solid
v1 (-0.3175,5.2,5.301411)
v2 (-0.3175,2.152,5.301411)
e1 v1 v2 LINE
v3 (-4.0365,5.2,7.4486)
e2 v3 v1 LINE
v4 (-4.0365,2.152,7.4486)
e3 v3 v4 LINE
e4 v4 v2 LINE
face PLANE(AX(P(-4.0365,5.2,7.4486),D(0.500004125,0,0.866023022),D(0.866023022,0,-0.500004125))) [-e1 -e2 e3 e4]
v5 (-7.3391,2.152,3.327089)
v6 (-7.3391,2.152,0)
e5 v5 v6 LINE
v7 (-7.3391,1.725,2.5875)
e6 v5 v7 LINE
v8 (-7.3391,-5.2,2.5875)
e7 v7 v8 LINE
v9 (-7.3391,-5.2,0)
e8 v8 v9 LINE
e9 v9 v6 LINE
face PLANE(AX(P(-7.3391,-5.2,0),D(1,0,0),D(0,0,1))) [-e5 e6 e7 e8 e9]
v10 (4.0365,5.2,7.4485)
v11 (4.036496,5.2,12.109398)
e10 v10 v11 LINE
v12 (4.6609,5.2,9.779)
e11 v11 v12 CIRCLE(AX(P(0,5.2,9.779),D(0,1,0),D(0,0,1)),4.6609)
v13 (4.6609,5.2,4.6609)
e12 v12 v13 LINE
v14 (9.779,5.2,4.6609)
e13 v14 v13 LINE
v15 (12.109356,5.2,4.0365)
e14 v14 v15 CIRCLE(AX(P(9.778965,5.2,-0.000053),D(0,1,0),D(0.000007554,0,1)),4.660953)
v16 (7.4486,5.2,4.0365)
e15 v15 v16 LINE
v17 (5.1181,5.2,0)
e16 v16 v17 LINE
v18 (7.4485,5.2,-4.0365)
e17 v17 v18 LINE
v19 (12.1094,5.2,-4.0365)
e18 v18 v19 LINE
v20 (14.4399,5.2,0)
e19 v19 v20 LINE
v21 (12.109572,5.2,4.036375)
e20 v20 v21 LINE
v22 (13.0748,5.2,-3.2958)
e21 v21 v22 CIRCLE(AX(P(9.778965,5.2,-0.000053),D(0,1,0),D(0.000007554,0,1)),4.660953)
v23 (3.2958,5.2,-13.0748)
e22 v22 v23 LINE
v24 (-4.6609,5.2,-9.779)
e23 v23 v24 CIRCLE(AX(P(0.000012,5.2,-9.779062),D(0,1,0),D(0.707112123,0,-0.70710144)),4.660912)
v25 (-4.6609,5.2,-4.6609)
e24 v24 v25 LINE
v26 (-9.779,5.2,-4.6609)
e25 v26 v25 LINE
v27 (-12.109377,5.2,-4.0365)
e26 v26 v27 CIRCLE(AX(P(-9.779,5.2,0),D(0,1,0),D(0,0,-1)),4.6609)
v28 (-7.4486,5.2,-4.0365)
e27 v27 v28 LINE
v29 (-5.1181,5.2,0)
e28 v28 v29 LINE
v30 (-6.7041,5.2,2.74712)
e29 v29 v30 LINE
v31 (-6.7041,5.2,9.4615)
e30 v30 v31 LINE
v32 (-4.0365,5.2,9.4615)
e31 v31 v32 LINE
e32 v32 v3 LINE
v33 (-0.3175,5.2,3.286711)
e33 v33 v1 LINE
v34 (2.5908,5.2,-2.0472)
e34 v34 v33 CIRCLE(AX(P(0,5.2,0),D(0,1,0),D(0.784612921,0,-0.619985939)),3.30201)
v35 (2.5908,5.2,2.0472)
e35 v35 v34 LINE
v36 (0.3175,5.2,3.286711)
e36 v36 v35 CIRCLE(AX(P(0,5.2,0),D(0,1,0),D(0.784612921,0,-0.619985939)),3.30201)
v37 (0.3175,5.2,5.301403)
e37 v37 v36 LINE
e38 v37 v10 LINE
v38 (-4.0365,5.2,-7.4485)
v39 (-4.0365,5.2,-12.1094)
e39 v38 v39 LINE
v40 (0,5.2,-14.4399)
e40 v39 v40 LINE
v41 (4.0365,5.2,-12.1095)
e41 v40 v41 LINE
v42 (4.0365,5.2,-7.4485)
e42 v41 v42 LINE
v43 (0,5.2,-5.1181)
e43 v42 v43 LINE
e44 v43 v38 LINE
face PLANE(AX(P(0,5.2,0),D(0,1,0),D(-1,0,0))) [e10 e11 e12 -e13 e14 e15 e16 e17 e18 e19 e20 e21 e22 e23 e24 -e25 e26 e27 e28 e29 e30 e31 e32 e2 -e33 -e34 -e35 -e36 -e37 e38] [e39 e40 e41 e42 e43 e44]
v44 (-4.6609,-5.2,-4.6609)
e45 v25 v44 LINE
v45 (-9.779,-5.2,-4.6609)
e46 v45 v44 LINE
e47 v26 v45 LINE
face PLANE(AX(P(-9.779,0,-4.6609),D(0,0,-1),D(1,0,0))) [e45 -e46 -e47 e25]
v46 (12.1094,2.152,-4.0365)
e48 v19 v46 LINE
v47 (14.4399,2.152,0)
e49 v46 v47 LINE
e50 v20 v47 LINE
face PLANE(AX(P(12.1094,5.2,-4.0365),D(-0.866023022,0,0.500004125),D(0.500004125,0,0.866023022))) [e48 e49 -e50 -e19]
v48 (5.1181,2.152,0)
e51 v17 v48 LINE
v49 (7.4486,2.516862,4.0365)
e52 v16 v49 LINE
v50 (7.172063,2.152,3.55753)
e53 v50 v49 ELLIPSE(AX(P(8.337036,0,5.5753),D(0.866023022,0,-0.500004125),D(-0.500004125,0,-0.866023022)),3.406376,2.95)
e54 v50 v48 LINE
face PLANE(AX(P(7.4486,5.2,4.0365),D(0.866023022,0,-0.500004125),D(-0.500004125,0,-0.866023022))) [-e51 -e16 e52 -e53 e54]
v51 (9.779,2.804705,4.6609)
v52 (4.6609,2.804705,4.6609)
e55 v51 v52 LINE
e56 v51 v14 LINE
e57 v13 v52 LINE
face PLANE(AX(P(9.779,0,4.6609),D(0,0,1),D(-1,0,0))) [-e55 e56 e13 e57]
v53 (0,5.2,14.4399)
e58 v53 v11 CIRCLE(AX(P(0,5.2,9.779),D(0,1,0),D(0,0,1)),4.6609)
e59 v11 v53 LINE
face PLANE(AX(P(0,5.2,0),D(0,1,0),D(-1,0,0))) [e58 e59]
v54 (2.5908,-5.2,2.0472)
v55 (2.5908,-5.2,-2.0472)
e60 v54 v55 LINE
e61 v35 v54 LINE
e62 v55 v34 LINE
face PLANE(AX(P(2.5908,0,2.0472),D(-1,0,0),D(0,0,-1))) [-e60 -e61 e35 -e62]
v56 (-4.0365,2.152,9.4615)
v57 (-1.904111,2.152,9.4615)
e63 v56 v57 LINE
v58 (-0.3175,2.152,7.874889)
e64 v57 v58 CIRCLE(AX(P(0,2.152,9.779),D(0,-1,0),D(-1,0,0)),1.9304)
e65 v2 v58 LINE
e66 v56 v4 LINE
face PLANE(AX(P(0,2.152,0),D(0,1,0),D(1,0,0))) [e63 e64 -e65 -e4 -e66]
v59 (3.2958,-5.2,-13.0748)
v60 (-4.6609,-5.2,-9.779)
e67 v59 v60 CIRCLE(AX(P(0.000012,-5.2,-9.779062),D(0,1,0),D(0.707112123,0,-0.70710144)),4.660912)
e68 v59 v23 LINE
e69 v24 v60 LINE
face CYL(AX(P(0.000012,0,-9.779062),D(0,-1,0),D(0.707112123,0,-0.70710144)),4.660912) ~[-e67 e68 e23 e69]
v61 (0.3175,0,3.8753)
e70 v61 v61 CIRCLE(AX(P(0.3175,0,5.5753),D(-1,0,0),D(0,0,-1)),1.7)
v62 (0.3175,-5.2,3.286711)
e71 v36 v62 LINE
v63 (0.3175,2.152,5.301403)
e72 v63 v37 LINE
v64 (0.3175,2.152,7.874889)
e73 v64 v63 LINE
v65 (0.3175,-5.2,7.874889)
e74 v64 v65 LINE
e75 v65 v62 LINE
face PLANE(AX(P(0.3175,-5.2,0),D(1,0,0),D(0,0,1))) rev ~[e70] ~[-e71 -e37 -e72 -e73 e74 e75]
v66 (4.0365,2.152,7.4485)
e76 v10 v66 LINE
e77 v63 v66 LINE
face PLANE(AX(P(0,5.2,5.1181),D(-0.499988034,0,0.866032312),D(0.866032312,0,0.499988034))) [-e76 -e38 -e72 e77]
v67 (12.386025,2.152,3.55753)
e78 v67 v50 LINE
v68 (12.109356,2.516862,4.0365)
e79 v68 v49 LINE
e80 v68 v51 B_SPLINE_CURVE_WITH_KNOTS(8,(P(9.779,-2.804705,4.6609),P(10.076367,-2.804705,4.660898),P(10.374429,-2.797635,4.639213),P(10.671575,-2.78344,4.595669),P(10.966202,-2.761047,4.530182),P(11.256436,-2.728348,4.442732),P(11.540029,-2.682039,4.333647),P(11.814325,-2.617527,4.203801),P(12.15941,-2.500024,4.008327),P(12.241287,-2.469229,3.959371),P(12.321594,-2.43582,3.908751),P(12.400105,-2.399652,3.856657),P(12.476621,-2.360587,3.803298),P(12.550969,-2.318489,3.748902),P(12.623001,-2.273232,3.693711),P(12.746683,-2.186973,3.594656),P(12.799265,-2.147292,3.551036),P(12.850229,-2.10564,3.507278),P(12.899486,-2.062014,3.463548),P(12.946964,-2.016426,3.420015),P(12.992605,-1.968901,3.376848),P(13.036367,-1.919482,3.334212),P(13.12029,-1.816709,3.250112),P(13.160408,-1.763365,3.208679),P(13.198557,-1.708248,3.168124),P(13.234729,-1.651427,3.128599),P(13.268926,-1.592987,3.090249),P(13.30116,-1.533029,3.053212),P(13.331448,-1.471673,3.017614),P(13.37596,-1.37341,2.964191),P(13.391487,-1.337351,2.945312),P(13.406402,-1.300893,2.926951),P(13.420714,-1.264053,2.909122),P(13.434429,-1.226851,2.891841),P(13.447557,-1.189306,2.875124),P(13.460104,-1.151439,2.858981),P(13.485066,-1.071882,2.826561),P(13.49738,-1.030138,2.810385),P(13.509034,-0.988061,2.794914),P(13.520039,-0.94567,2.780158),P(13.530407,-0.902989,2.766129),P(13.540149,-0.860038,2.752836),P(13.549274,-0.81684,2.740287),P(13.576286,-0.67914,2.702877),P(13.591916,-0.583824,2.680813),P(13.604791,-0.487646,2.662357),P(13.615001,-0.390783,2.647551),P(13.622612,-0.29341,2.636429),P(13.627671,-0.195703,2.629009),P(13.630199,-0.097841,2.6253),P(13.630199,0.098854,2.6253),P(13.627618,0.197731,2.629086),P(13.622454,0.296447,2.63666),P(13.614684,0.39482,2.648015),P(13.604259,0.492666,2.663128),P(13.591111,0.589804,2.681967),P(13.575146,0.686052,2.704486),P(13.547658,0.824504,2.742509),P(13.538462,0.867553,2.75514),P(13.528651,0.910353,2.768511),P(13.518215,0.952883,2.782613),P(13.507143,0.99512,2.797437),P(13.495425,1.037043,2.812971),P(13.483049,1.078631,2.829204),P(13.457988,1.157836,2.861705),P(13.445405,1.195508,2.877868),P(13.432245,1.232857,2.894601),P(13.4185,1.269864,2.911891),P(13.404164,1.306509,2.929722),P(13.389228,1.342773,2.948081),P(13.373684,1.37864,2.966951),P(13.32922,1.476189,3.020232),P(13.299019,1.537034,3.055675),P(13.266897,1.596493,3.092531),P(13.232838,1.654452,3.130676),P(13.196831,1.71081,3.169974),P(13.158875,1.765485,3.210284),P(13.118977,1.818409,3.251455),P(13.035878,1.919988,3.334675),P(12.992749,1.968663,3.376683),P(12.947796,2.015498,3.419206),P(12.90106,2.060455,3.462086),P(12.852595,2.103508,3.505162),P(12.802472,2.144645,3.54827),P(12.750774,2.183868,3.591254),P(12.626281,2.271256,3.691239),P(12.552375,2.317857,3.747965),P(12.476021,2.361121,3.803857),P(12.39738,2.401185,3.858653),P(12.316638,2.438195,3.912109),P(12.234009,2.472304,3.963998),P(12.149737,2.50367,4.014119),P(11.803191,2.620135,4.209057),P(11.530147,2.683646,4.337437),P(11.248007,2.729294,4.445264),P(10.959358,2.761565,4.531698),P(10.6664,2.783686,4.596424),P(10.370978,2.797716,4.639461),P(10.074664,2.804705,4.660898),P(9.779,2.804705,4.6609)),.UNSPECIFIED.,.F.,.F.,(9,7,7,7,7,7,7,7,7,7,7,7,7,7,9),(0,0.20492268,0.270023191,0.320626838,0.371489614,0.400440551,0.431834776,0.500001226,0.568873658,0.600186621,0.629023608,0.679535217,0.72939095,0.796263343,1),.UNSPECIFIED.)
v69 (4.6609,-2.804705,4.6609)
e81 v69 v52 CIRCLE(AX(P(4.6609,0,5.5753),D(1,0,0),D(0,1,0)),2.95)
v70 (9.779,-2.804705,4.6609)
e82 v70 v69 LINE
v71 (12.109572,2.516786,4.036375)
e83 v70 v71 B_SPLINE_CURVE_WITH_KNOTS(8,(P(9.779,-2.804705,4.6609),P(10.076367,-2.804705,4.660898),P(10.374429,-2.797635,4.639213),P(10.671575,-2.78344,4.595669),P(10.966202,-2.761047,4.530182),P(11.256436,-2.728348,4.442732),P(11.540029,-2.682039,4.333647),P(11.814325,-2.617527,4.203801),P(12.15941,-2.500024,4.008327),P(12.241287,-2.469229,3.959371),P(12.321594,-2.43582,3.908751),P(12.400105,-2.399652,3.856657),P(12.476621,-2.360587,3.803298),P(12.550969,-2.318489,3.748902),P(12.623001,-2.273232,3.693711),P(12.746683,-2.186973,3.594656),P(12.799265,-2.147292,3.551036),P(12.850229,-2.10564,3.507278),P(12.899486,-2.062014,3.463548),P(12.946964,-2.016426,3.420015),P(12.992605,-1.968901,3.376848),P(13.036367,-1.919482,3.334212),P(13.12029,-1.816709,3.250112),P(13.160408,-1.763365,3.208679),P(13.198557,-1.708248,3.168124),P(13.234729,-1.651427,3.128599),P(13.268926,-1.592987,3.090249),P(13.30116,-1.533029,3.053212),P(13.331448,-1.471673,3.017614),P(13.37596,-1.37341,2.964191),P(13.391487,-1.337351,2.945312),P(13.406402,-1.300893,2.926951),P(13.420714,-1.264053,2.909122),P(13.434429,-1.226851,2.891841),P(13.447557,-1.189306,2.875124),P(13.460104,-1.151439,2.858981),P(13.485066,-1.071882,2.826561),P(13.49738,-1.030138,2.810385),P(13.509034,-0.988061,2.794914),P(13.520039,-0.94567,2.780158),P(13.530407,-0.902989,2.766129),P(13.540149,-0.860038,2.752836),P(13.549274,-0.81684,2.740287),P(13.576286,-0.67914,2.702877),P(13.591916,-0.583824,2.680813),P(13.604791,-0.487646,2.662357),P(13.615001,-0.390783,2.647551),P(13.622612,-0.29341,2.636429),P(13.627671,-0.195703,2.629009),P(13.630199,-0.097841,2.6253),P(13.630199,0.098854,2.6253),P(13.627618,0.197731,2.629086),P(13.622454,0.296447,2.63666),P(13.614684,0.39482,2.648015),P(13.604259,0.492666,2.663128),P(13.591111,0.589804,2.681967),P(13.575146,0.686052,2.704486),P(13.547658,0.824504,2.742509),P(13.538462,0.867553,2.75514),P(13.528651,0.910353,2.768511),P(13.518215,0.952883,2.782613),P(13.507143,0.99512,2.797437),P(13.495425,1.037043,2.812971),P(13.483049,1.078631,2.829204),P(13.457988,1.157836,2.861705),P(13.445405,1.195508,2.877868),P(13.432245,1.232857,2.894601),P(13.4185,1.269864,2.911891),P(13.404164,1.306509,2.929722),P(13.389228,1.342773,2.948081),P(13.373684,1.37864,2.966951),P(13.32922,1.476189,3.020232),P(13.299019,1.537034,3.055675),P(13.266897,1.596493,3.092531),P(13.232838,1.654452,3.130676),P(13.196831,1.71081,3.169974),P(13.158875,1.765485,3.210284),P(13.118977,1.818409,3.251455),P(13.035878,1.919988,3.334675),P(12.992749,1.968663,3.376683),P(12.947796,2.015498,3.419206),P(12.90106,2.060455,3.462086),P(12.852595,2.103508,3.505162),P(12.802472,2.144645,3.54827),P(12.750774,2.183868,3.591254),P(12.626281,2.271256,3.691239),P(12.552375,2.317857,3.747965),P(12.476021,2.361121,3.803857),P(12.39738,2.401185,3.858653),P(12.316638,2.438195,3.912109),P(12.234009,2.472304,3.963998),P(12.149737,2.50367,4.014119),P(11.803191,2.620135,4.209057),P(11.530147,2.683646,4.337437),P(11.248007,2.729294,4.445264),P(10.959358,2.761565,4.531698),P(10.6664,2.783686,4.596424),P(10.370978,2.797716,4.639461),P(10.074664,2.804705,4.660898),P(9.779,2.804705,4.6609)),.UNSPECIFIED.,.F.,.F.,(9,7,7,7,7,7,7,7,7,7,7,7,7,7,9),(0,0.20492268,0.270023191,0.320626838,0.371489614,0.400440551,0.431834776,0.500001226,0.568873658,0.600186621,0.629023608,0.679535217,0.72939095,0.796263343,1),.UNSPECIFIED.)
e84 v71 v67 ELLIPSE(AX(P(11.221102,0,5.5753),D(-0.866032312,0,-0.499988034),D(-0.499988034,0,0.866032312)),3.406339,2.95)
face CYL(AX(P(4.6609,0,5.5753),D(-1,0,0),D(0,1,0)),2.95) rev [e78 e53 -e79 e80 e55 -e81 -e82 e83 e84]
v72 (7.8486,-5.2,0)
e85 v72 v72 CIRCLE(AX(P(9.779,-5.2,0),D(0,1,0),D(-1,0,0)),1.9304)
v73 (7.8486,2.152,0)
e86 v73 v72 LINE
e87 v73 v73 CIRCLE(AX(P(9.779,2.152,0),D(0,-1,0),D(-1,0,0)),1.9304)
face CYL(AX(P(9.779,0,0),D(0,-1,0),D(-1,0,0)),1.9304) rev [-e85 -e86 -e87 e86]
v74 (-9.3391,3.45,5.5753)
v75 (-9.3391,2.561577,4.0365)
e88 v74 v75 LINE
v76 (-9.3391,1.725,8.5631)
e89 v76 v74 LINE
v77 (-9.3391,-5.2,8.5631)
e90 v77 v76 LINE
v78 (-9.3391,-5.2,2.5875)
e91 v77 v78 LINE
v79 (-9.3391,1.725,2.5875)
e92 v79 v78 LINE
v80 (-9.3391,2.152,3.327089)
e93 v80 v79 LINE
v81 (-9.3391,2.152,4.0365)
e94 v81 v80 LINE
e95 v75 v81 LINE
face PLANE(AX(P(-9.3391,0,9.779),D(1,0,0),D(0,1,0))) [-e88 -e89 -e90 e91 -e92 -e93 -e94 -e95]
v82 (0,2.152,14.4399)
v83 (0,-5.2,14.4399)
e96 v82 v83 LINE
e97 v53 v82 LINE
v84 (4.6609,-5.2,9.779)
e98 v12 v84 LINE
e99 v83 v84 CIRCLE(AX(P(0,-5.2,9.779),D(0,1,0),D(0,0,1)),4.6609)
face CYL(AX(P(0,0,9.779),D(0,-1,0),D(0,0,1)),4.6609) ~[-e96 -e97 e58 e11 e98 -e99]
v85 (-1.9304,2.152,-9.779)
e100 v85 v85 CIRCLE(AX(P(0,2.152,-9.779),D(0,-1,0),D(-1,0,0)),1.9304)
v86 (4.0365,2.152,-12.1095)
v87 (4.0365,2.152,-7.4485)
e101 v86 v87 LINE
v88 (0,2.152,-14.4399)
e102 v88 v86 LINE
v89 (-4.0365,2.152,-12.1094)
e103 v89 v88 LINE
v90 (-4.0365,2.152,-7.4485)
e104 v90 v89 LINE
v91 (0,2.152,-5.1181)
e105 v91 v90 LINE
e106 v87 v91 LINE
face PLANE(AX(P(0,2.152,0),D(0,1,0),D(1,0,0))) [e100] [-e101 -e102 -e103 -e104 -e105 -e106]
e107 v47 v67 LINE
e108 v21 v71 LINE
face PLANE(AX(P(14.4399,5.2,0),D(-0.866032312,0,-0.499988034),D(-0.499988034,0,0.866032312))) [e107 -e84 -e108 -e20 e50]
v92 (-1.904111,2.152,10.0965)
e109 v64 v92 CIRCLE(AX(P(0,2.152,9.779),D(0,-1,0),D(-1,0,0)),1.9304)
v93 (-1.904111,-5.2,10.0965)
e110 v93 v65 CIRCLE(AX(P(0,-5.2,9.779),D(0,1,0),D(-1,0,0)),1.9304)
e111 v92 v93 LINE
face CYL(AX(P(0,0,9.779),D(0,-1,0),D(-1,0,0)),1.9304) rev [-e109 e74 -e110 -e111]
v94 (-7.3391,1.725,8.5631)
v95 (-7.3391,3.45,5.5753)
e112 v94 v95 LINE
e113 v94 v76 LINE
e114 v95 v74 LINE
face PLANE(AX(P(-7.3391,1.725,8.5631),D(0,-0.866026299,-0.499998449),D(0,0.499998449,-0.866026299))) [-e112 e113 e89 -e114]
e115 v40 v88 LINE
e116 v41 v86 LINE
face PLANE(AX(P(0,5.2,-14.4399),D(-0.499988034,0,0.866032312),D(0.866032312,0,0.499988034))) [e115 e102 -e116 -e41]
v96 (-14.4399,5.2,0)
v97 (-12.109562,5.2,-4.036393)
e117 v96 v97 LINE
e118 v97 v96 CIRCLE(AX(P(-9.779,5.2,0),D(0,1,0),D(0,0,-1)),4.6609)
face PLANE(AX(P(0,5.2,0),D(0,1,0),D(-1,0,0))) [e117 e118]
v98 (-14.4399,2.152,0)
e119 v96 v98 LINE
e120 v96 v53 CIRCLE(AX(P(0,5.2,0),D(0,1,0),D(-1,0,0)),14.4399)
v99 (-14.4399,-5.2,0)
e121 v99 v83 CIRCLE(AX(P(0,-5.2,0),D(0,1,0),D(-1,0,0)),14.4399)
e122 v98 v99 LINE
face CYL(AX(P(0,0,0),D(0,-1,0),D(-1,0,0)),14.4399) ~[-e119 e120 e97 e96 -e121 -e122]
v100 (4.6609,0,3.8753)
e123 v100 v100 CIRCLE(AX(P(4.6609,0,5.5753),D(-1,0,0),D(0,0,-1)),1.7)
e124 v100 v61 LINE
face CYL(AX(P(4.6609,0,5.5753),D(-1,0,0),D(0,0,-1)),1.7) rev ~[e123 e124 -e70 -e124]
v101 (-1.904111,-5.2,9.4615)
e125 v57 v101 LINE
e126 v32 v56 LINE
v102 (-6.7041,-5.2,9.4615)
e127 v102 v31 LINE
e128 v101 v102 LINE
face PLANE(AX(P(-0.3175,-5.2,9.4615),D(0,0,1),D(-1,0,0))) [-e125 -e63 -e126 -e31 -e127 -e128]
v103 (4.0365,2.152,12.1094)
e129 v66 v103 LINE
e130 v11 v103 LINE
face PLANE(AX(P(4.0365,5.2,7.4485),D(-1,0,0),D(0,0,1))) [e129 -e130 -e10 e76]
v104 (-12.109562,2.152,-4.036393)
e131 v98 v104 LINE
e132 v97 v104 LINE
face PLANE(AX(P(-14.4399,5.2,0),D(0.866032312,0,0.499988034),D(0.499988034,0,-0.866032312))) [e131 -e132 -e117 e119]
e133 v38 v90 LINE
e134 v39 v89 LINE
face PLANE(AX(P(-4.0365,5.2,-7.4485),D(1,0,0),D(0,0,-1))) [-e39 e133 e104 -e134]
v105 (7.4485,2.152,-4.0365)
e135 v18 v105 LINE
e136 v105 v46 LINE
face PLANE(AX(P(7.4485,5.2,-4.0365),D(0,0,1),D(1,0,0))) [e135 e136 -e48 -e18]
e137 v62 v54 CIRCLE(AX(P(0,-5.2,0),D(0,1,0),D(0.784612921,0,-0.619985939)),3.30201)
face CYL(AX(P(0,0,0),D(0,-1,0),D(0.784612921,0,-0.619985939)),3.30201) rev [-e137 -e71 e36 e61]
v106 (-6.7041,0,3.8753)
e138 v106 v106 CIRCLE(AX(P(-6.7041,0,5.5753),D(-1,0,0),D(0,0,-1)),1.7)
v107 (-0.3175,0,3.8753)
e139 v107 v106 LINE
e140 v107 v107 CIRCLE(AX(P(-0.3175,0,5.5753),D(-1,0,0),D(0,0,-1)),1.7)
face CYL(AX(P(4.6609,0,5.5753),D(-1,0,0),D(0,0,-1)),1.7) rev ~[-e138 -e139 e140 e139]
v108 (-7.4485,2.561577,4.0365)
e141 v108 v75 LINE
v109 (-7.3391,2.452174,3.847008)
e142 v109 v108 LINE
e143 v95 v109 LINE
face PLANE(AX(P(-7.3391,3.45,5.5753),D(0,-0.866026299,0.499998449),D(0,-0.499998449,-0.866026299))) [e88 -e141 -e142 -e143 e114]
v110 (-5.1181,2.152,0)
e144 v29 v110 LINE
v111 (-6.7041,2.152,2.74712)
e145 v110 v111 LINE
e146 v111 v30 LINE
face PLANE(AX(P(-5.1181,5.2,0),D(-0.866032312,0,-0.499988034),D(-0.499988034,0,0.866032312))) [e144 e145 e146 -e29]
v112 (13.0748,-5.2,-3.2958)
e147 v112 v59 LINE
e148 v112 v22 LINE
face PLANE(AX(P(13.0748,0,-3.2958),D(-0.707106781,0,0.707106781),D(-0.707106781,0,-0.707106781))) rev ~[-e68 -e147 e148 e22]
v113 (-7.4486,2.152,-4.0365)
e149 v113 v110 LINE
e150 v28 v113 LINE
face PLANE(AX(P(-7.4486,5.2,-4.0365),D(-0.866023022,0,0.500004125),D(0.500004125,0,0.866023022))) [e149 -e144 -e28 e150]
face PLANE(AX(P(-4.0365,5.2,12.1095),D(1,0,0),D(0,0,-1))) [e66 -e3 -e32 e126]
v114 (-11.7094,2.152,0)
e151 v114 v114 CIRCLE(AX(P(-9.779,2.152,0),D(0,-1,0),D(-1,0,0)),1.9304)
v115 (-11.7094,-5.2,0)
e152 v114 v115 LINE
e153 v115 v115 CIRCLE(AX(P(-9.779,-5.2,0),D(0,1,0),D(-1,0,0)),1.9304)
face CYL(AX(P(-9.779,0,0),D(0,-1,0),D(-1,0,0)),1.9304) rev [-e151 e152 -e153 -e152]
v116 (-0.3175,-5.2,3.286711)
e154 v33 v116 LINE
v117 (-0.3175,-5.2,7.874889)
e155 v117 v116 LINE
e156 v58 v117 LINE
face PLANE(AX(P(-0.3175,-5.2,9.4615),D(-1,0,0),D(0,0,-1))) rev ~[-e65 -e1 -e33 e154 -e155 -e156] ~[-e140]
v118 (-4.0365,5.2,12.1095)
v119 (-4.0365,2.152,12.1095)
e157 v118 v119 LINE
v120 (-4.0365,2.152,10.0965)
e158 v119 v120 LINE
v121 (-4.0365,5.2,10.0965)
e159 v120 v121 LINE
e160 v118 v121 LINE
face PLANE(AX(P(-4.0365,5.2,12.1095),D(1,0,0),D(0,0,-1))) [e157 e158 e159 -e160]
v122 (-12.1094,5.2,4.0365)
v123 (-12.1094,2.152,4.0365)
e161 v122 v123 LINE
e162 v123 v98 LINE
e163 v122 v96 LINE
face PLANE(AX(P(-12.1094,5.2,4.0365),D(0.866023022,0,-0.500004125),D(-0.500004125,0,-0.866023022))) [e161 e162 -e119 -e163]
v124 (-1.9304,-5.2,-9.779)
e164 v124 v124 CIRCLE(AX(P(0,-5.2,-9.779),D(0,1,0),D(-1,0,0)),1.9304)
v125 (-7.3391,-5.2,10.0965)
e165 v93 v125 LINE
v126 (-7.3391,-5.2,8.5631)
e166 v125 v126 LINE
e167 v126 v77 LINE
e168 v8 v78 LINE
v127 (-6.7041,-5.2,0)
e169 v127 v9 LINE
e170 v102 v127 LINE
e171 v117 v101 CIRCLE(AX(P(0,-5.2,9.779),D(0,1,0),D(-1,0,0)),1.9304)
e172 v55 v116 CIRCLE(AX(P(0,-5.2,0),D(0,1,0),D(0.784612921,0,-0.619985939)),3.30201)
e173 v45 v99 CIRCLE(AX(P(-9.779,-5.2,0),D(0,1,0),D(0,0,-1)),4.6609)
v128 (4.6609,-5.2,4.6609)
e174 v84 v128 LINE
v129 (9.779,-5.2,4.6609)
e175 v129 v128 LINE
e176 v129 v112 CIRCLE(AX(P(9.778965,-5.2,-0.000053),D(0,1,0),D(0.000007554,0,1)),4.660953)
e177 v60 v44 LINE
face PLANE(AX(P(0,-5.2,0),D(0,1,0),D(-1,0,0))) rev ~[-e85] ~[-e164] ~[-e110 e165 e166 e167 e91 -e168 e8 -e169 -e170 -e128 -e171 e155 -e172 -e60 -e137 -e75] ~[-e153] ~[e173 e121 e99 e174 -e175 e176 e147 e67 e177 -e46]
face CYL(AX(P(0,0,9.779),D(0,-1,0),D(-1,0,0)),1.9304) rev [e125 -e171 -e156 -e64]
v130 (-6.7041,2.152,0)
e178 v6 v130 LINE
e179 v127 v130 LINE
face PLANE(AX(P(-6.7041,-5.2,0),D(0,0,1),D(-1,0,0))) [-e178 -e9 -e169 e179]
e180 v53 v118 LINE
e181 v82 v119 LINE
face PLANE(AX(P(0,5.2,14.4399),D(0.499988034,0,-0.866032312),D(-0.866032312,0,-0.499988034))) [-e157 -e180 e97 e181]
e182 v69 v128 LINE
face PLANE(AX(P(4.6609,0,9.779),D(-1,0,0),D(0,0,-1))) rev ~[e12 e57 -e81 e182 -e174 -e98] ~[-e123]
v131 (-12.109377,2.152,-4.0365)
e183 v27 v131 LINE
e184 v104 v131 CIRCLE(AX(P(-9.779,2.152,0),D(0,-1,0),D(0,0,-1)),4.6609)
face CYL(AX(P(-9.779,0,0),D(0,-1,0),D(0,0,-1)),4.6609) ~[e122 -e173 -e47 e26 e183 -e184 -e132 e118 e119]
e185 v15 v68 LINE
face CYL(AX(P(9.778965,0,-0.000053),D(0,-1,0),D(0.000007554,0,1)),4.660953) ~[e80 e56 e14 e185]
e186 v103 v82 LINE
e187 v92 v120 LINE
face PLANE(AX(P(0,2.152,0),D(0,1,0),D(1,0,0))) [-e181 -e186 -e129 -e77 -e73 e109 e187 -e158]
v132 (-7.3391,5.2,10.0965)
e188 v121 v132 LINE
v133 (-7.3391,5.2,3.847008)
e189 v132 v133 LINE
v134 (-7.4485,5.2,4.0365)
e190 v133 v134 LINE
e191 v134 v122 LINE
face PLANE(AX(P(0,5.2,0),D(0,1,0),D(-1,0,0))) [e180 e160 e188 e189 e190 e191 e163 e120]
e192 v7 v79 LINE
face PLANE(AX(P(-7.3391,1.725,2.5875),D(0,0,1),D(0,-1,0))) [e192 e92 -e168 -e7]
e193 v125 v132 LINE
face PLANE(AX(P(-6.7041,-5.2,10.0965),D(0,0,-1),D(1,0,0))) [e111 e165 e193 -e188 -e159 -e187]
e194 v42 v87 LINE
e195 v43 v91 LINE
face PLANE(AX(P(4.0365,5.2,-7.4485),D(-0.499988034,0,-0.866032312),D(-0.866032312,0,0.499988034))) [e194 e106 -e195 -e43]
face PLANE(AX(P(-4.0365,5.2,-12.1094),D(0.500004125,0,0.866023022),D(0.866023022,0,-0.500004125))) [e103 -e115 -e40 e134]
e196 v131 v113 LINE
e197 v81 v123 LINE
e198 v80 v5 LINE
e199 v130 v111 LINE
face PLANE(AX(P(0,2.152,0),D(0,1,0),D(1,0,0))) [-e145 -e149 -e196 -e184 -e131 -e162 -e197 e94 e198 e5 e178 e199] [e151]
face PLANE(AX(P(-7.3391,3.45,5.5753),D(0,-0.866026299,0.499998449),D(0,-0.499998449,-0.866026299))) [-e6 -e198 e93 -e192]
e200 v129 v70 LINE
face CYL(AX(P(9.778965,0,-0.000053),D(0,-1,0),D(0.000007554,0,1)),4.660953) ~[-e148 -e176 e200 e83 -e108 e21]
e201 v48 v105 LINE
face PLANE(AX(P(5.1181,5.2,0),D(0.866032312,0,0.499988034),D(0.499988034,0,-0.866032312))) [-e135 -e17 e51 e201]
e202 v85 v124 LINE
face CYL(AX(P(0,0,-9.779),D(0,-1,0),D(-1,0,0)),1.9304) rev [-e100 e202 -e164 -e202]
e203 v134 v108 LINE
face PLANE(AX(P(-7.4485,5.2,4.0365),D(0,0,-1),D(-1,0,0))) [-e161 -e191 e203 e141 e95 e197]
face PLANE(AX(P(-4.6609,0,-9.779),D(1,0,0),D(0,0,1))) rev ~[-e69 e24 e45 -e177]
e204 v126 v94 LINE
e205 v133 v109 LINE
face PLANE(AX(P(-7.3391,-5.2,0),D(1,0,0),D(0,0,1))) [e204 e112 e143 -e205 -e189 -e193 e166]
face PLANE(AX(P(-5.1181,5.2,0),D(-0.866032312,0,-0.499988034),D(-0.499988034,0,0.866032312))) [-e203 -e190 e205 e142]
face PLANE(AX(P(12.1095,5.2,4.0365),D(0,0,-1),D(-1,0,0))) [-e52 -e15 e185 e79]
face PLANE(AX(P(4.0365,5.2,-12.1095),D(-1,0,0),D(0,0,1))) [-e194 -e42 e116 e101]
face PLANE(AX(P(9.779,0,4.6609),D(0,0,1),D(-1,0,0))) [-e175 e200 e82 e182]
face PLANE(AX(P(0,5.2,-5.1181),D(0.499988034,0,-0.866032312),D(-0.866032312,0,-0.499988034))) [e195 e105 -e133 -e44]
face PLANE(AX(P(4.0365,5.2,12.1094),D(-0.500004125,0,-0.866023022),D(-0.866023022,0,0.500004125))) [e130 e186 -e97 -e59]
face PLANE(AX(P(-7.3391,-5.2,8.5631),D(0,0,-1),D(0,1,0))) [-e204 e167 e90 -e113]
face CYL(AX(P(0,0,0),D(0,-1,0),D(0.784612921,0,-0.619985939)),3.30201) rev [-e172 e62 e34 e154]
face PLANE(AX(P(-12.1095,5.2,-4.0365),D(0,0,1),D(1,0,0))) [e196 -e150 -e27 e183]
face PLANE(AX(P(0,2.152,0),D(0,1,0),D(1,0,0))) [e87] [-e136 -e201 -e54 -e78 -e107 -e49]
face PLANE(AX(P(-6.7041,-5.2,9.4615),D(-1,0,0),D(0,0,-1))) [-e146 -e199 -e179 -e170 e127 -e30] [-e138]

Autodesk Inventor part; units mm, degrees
ref_plane "YZ Plane" through (0, 0, 0) normal (1, 0, 0) x (0, 1, 0)
ref_plane "XZ Plane" through (0, 0, 0) normal (0, 1, 0) x (-1, 0, 0)
ref_plane "XY Plane" through (0, 0, 0) normal (0, 0, 1) x (1, 0, 0)
sketch "Sketch1" plane through (0, 0, 0) normal (0, 1, 0) x (-1, 0, 0)
  circle A0 centre (9.779, 0) radius 1.9304
  line L0 (0, 9.779) -> (0, 0) construction
  line L1 (9.779, 0) -> (0, 0) construction
  arc A1 (-2.5908, -2.0472) -> (-2.5908, 2.0472) centre (0, 0) ccw
  line L2 (-2.5908, 2.0472) -> (-2.5908, -2.0472)
  circle A2 centre (0, 9.779) radius 1.9304
  circle A3 centre (-9.779, 0) radius 1.9304
  circle A4 centre (0, -9.779) radius 1.9304
  line L3 (4.7625, 7.21) -> (-2.8575, 7.21) construction
  line L4 (-2.8575, 7.21) -> (-2.8575, 3.81) construction
  line L5 (-2.8575, 3.81) -> (4.7625, 3.81) construction
  line L6 (4.7625, 3.81) -> (4.7625, 7.21) construction
  line L7 (4.7625, 8.2835) -> (7.5625, 8.2835) construction
  line L8 (7.5625, 8.2835) -> (7.5625, 2.3835) construction
  line L9 (7.5625, 2.3835) -> (4.7625, 2.3835) construction
  line L10 (4.7625, 2.3835) -> (4.7625, 8.2835) construction
  circle A5 centre (0, -9.779) radius 4.6609 construction
  circle A6 centre (0, 9.779) radius 4.6609 construction
  circle A7 centre (9.779, 0) radius 4.6609 construction
  circle A8 centre (-9.779, 0) radius 4.6609 construction
  line L11 (-4.6609, 9.779) -> (-4.6609, -11.7096) construction
  line L12 (-9.779, 4.6609) -> (-4.6609, 4.6609)
  line L13 (-13.0748, -3.2958) -> (-3.2958, -13.0748)
  line L14 (4.6609, -9.779) -> (4.6609, 9.779) construction
  line L15 (9.779, -4.6609) -> (4.6609, -4.6609)
  line L16 (4.6609, -9.779) -> (4.6609, -4.6609)
  arc A9 (-9.779, 4.6609) -> (-13.0748, -3.2958) centre (-9.779, 0) ccw
  arc A10 (-3.2958, -13.0748) -> (4.6609, -9.779) centre (0, -9.779) ccw
  line L17 (-4.6609, 9.779) -> (-4.6609, 4.6609)
  arc A11 (14.4399, 0) -> (0, 14.4399) centre (0, 0) ccw
  arc A12 (0, 14.4399) -> (-4.6609, 9.779) centre (0, 9.779) ccw
  arc A13 (9.779, -4.6609) -> (14.4399, 0) centre (9.779, 0) ccw
  point P0 (-13.0748, -3.2958)
  dimension "d0" = 3.8608
  dimension "d2" = 0
  dimension "d3" = 9.779
  dimension "d12" = 6.604
  dimension "d13" = 2.5908
  dimension "d16" = 360
  dimension "d18" = 7.62
  dimension "d19" = 3.4
  dimension "d20" = 3.81
  dimension "d21" = 2.8
  dimension "d22" = 5.9
  dimension "d23" = 9.3218
  dimension "d24" = 9.3218
  dimension "d25" = 9.3218
  dimension "d26" = 9.3218
extrude "Extrusion1" add sketch "Sketch1" along normal mid plane 10.4
sketch "Sketch2" plane through (0, 5.2, 0) normal (0, 1, 0) x (1, 0, 0)
  circle A0 centre (-9.779, 0) radius 1.9304 construction
  circle A1 centre (-9.779, 0) radius 4.6609 construction
  line L0 (-14.4399, 0) -> (-12.1095, 4.0365)
  line L1 (-12.1095, 4.0365) -> (-7.4486, 4.0365)
  line L2 (-7.4486, 4.0365) -> (-5.1181, 0)
  line L3 (-5.1181, 0) -> (-7.4485, -4.0365)
  line L4 (-7.4485, -4.0365) -> (-12.1094, -4.0365)
  line L5 (-12.1094, -4.0365) -> (-14.4399, 0)
  circle A2 centre (0, -9.779) radius 4.6609 construction
  line L6 (0, -14.4399) -> (-4.0365, -12.1095)
  line L7 (-4.0365, -12.1095) -> (-4.0365, -7.4486)
  line L8 (-4.0365, -7.4486) -> (0, -5.1181)
  line L9 (0, -5.1181) -> (4.0365, -7.4485)
  line L10 (4.0365, -7.4485) -> (4.0365, -12.1094)
  line L11 (4.0365, -12.1094) -> (0, -14.4399)
  circle A3 centre (9.779, 0) radius 4.6609 construction
  line L12 (14.4399, 0) -> (12.1095, -4.0365)
  line L13 (12.1095, -4.0365) -> (7.4486, -4.0365)
  line L14 (7.4486, -4.0365) -> (5.1181, 0)
  line L15 (5.1181, 0) -> (7.4485, 4.0365)
  line L16 (7.4485, 4.0365) -> (12.1094, 4.0365)
  line L17 (12.1094, 4.0365) -> (14.4399, 0)
  circle A4 centre (0, 9.779) radius 4.6609 construction
  line L18 (0, 14.4399) -> (4.0365, 12.1095)
  line L19 (4.0365, 12.1095) -> (4.0365, 7.4485)
  line L20 (4.0365, 7.4485) -> (0, 5.1181)
  line L21 (0, 5.1181) -> (-4.0365, 7.4485)
  line L22 (-4.0365, 7.4485) -> (-4.0365, 12.1094)
  line L23 (-4.0365, 12.1094) -> (0, 14.4399)
  point P0 (0, 0)
  dimension "d29" = 9.3218
  dimension "d32" = 360
extrude "Extrusion2" cut sketch "Sketch2" against normal blind 3.048
ref_plane "Work Plane1" through (4.6609, 0, 9.779) normal (1, 0, 0) x (0, 1, 0)
sketch "Sketch3" plane through (4.6609, 0, 9.779) normal (1, 0, 0) x (0, 1, 0)
  line L0 (2.152, -1.9304) -> (-5.2, -1.9304) construction
  line L1 (5.2, -6.477) -> (-5.2, -6.477) construction
  point P0 (0, -9.779)
  point P1 (0, -4.2037)
  dimension "d36" = 4.5466
  dimension "d37" = 2.2733
hole "Hole1" at (4.6609, 0, 5.5753) direction (-1, 0, 0) diameter 3.4 depth 12
sketch "Sketch4" plane through (4.6609, 0, 9.779) normal (1, 0, 0) x (0, 1, 0)
  circle A0 centre (0, -4.2037) radius 1.7 projected
  circle A1 centre (0, -4.2037) radius 2.95
  point P0 (0, -9.779)
  dimension "d45" = 5.9
extrude "Extrusion3" cut sketch "Sketch4" along normal blind 10.4 contours A0 | A1
sketch "Sketch6" plane through (0, -5.2, 0) normal (0, -1, 0) x (1, 0, 0)
  line L0 (-7.3391, 7.2753) -> (4.6609, 7.2753) construction
  line L1 (-7.3391, 3.8753) -> (4.6609, 3.8753) construction
  point P0 (0, 0)
ref_plane "Work Plane2" through (-7.3391, 0, 9.779) normal (1, 0, 0) x (0, 1, 0)
sketch "Sketch7" plane through (-7.3391, 0, 9.779) normal (1, 0, 0) x (0, 1, 0)
  circle A0 centre (0, -4.2037) radius 1.7 construction
  circle A1 centre (0, -4.2037) radius 3.45 construction
  line L0 (3.45, -4.2037) -> (1.725, -7.1915)
  line L1 (5.175, -7.1915) -> (-5.2, -7.1915)
  line L2 (-5.2, -1.2159) -> (1.725, -1.2159)
  line L3 (1.725, -1.2159) -> (3.45, -4.2037)
  line L4 (-5.2, 4.6609) -> (-5.2, -9.779) projected
  line L5 (-5.2, -1.2159) -> (-5.2, -7.1915)
  point P0 (0, -9.779)
  dimension "d49" = 6.9
extrude "Extrusion4" cut sketch "Sketch7" against normal blind 2
sketch "Sketch8" plane through (0, -5.2, 0) normal (0, -1, 0) x (1, 0, 0)
  line L0 (0.3175, 0) -> (0.3175, 9.779)
  line L1 (0.3175, 9.779) -> (-0.3175, 9.779)
  line L2 (-0.3175, 9.779) -> (-0.3175, 0)
  line L3 (-0.3175, -9.779) -> (0.3175, 9.779) construction
  line L4 (0.3175, -9.779) -> (-0.3175, 9.779) construction
  line L5 (-0.3175, 0) -> (0.3175, 0)
  line L6 (-7.3391, 20.2159) -> (-7.3391, -20.2159) construction
  line L7 (0.3175, 9.4615) -> (-7.3391, 9.4615)
  line L8 (-7.3391, 9.4615) -> (-7.3391, 10.0965)
  line L9 (-7.3391, 10.0965) -> (0.3175, 10.0965)
  line L10 (3.348, 9.6342) -> (-7.3391, 10.0965) construction
  line L11 (-7.3391, 9.4615) -> (3.348, 9.9238) construction
  line L12 (0.3175, 9.4615) -> (0.3175, 10.0965)
  line L13 (-7.3391, 10.0965) -> (-6.7041, 10.0965)
  line L14 (-6.7041, 10.0965) -> (-6.7041, 0)
  line L15 (-6.7041, 0) -> (-7.3391, 0)
  line L16 (-7.3391, 0) -> (-7.3391, 10.0965)
  point P0 (0, 0)
  point P1 (0, 9.779)
  point P2 (-6.7041, 9.4615)
  point P3 (-0.3175, 9.4615)
  dimension "d52" = 0.635
  dimension "d53" = 0.635
  dimension "d54" = 0.635
extrude "Extrusion5" cut sketch "Sketch8" against normal through all
equation "\"d23\" = d24"
equation "\"d25\" = d24"
equation "\"d26\" = d24"
equation "\"d37\" = 0.5 * d36"
properties part number "sonic hub 1_4 D 3mm"
